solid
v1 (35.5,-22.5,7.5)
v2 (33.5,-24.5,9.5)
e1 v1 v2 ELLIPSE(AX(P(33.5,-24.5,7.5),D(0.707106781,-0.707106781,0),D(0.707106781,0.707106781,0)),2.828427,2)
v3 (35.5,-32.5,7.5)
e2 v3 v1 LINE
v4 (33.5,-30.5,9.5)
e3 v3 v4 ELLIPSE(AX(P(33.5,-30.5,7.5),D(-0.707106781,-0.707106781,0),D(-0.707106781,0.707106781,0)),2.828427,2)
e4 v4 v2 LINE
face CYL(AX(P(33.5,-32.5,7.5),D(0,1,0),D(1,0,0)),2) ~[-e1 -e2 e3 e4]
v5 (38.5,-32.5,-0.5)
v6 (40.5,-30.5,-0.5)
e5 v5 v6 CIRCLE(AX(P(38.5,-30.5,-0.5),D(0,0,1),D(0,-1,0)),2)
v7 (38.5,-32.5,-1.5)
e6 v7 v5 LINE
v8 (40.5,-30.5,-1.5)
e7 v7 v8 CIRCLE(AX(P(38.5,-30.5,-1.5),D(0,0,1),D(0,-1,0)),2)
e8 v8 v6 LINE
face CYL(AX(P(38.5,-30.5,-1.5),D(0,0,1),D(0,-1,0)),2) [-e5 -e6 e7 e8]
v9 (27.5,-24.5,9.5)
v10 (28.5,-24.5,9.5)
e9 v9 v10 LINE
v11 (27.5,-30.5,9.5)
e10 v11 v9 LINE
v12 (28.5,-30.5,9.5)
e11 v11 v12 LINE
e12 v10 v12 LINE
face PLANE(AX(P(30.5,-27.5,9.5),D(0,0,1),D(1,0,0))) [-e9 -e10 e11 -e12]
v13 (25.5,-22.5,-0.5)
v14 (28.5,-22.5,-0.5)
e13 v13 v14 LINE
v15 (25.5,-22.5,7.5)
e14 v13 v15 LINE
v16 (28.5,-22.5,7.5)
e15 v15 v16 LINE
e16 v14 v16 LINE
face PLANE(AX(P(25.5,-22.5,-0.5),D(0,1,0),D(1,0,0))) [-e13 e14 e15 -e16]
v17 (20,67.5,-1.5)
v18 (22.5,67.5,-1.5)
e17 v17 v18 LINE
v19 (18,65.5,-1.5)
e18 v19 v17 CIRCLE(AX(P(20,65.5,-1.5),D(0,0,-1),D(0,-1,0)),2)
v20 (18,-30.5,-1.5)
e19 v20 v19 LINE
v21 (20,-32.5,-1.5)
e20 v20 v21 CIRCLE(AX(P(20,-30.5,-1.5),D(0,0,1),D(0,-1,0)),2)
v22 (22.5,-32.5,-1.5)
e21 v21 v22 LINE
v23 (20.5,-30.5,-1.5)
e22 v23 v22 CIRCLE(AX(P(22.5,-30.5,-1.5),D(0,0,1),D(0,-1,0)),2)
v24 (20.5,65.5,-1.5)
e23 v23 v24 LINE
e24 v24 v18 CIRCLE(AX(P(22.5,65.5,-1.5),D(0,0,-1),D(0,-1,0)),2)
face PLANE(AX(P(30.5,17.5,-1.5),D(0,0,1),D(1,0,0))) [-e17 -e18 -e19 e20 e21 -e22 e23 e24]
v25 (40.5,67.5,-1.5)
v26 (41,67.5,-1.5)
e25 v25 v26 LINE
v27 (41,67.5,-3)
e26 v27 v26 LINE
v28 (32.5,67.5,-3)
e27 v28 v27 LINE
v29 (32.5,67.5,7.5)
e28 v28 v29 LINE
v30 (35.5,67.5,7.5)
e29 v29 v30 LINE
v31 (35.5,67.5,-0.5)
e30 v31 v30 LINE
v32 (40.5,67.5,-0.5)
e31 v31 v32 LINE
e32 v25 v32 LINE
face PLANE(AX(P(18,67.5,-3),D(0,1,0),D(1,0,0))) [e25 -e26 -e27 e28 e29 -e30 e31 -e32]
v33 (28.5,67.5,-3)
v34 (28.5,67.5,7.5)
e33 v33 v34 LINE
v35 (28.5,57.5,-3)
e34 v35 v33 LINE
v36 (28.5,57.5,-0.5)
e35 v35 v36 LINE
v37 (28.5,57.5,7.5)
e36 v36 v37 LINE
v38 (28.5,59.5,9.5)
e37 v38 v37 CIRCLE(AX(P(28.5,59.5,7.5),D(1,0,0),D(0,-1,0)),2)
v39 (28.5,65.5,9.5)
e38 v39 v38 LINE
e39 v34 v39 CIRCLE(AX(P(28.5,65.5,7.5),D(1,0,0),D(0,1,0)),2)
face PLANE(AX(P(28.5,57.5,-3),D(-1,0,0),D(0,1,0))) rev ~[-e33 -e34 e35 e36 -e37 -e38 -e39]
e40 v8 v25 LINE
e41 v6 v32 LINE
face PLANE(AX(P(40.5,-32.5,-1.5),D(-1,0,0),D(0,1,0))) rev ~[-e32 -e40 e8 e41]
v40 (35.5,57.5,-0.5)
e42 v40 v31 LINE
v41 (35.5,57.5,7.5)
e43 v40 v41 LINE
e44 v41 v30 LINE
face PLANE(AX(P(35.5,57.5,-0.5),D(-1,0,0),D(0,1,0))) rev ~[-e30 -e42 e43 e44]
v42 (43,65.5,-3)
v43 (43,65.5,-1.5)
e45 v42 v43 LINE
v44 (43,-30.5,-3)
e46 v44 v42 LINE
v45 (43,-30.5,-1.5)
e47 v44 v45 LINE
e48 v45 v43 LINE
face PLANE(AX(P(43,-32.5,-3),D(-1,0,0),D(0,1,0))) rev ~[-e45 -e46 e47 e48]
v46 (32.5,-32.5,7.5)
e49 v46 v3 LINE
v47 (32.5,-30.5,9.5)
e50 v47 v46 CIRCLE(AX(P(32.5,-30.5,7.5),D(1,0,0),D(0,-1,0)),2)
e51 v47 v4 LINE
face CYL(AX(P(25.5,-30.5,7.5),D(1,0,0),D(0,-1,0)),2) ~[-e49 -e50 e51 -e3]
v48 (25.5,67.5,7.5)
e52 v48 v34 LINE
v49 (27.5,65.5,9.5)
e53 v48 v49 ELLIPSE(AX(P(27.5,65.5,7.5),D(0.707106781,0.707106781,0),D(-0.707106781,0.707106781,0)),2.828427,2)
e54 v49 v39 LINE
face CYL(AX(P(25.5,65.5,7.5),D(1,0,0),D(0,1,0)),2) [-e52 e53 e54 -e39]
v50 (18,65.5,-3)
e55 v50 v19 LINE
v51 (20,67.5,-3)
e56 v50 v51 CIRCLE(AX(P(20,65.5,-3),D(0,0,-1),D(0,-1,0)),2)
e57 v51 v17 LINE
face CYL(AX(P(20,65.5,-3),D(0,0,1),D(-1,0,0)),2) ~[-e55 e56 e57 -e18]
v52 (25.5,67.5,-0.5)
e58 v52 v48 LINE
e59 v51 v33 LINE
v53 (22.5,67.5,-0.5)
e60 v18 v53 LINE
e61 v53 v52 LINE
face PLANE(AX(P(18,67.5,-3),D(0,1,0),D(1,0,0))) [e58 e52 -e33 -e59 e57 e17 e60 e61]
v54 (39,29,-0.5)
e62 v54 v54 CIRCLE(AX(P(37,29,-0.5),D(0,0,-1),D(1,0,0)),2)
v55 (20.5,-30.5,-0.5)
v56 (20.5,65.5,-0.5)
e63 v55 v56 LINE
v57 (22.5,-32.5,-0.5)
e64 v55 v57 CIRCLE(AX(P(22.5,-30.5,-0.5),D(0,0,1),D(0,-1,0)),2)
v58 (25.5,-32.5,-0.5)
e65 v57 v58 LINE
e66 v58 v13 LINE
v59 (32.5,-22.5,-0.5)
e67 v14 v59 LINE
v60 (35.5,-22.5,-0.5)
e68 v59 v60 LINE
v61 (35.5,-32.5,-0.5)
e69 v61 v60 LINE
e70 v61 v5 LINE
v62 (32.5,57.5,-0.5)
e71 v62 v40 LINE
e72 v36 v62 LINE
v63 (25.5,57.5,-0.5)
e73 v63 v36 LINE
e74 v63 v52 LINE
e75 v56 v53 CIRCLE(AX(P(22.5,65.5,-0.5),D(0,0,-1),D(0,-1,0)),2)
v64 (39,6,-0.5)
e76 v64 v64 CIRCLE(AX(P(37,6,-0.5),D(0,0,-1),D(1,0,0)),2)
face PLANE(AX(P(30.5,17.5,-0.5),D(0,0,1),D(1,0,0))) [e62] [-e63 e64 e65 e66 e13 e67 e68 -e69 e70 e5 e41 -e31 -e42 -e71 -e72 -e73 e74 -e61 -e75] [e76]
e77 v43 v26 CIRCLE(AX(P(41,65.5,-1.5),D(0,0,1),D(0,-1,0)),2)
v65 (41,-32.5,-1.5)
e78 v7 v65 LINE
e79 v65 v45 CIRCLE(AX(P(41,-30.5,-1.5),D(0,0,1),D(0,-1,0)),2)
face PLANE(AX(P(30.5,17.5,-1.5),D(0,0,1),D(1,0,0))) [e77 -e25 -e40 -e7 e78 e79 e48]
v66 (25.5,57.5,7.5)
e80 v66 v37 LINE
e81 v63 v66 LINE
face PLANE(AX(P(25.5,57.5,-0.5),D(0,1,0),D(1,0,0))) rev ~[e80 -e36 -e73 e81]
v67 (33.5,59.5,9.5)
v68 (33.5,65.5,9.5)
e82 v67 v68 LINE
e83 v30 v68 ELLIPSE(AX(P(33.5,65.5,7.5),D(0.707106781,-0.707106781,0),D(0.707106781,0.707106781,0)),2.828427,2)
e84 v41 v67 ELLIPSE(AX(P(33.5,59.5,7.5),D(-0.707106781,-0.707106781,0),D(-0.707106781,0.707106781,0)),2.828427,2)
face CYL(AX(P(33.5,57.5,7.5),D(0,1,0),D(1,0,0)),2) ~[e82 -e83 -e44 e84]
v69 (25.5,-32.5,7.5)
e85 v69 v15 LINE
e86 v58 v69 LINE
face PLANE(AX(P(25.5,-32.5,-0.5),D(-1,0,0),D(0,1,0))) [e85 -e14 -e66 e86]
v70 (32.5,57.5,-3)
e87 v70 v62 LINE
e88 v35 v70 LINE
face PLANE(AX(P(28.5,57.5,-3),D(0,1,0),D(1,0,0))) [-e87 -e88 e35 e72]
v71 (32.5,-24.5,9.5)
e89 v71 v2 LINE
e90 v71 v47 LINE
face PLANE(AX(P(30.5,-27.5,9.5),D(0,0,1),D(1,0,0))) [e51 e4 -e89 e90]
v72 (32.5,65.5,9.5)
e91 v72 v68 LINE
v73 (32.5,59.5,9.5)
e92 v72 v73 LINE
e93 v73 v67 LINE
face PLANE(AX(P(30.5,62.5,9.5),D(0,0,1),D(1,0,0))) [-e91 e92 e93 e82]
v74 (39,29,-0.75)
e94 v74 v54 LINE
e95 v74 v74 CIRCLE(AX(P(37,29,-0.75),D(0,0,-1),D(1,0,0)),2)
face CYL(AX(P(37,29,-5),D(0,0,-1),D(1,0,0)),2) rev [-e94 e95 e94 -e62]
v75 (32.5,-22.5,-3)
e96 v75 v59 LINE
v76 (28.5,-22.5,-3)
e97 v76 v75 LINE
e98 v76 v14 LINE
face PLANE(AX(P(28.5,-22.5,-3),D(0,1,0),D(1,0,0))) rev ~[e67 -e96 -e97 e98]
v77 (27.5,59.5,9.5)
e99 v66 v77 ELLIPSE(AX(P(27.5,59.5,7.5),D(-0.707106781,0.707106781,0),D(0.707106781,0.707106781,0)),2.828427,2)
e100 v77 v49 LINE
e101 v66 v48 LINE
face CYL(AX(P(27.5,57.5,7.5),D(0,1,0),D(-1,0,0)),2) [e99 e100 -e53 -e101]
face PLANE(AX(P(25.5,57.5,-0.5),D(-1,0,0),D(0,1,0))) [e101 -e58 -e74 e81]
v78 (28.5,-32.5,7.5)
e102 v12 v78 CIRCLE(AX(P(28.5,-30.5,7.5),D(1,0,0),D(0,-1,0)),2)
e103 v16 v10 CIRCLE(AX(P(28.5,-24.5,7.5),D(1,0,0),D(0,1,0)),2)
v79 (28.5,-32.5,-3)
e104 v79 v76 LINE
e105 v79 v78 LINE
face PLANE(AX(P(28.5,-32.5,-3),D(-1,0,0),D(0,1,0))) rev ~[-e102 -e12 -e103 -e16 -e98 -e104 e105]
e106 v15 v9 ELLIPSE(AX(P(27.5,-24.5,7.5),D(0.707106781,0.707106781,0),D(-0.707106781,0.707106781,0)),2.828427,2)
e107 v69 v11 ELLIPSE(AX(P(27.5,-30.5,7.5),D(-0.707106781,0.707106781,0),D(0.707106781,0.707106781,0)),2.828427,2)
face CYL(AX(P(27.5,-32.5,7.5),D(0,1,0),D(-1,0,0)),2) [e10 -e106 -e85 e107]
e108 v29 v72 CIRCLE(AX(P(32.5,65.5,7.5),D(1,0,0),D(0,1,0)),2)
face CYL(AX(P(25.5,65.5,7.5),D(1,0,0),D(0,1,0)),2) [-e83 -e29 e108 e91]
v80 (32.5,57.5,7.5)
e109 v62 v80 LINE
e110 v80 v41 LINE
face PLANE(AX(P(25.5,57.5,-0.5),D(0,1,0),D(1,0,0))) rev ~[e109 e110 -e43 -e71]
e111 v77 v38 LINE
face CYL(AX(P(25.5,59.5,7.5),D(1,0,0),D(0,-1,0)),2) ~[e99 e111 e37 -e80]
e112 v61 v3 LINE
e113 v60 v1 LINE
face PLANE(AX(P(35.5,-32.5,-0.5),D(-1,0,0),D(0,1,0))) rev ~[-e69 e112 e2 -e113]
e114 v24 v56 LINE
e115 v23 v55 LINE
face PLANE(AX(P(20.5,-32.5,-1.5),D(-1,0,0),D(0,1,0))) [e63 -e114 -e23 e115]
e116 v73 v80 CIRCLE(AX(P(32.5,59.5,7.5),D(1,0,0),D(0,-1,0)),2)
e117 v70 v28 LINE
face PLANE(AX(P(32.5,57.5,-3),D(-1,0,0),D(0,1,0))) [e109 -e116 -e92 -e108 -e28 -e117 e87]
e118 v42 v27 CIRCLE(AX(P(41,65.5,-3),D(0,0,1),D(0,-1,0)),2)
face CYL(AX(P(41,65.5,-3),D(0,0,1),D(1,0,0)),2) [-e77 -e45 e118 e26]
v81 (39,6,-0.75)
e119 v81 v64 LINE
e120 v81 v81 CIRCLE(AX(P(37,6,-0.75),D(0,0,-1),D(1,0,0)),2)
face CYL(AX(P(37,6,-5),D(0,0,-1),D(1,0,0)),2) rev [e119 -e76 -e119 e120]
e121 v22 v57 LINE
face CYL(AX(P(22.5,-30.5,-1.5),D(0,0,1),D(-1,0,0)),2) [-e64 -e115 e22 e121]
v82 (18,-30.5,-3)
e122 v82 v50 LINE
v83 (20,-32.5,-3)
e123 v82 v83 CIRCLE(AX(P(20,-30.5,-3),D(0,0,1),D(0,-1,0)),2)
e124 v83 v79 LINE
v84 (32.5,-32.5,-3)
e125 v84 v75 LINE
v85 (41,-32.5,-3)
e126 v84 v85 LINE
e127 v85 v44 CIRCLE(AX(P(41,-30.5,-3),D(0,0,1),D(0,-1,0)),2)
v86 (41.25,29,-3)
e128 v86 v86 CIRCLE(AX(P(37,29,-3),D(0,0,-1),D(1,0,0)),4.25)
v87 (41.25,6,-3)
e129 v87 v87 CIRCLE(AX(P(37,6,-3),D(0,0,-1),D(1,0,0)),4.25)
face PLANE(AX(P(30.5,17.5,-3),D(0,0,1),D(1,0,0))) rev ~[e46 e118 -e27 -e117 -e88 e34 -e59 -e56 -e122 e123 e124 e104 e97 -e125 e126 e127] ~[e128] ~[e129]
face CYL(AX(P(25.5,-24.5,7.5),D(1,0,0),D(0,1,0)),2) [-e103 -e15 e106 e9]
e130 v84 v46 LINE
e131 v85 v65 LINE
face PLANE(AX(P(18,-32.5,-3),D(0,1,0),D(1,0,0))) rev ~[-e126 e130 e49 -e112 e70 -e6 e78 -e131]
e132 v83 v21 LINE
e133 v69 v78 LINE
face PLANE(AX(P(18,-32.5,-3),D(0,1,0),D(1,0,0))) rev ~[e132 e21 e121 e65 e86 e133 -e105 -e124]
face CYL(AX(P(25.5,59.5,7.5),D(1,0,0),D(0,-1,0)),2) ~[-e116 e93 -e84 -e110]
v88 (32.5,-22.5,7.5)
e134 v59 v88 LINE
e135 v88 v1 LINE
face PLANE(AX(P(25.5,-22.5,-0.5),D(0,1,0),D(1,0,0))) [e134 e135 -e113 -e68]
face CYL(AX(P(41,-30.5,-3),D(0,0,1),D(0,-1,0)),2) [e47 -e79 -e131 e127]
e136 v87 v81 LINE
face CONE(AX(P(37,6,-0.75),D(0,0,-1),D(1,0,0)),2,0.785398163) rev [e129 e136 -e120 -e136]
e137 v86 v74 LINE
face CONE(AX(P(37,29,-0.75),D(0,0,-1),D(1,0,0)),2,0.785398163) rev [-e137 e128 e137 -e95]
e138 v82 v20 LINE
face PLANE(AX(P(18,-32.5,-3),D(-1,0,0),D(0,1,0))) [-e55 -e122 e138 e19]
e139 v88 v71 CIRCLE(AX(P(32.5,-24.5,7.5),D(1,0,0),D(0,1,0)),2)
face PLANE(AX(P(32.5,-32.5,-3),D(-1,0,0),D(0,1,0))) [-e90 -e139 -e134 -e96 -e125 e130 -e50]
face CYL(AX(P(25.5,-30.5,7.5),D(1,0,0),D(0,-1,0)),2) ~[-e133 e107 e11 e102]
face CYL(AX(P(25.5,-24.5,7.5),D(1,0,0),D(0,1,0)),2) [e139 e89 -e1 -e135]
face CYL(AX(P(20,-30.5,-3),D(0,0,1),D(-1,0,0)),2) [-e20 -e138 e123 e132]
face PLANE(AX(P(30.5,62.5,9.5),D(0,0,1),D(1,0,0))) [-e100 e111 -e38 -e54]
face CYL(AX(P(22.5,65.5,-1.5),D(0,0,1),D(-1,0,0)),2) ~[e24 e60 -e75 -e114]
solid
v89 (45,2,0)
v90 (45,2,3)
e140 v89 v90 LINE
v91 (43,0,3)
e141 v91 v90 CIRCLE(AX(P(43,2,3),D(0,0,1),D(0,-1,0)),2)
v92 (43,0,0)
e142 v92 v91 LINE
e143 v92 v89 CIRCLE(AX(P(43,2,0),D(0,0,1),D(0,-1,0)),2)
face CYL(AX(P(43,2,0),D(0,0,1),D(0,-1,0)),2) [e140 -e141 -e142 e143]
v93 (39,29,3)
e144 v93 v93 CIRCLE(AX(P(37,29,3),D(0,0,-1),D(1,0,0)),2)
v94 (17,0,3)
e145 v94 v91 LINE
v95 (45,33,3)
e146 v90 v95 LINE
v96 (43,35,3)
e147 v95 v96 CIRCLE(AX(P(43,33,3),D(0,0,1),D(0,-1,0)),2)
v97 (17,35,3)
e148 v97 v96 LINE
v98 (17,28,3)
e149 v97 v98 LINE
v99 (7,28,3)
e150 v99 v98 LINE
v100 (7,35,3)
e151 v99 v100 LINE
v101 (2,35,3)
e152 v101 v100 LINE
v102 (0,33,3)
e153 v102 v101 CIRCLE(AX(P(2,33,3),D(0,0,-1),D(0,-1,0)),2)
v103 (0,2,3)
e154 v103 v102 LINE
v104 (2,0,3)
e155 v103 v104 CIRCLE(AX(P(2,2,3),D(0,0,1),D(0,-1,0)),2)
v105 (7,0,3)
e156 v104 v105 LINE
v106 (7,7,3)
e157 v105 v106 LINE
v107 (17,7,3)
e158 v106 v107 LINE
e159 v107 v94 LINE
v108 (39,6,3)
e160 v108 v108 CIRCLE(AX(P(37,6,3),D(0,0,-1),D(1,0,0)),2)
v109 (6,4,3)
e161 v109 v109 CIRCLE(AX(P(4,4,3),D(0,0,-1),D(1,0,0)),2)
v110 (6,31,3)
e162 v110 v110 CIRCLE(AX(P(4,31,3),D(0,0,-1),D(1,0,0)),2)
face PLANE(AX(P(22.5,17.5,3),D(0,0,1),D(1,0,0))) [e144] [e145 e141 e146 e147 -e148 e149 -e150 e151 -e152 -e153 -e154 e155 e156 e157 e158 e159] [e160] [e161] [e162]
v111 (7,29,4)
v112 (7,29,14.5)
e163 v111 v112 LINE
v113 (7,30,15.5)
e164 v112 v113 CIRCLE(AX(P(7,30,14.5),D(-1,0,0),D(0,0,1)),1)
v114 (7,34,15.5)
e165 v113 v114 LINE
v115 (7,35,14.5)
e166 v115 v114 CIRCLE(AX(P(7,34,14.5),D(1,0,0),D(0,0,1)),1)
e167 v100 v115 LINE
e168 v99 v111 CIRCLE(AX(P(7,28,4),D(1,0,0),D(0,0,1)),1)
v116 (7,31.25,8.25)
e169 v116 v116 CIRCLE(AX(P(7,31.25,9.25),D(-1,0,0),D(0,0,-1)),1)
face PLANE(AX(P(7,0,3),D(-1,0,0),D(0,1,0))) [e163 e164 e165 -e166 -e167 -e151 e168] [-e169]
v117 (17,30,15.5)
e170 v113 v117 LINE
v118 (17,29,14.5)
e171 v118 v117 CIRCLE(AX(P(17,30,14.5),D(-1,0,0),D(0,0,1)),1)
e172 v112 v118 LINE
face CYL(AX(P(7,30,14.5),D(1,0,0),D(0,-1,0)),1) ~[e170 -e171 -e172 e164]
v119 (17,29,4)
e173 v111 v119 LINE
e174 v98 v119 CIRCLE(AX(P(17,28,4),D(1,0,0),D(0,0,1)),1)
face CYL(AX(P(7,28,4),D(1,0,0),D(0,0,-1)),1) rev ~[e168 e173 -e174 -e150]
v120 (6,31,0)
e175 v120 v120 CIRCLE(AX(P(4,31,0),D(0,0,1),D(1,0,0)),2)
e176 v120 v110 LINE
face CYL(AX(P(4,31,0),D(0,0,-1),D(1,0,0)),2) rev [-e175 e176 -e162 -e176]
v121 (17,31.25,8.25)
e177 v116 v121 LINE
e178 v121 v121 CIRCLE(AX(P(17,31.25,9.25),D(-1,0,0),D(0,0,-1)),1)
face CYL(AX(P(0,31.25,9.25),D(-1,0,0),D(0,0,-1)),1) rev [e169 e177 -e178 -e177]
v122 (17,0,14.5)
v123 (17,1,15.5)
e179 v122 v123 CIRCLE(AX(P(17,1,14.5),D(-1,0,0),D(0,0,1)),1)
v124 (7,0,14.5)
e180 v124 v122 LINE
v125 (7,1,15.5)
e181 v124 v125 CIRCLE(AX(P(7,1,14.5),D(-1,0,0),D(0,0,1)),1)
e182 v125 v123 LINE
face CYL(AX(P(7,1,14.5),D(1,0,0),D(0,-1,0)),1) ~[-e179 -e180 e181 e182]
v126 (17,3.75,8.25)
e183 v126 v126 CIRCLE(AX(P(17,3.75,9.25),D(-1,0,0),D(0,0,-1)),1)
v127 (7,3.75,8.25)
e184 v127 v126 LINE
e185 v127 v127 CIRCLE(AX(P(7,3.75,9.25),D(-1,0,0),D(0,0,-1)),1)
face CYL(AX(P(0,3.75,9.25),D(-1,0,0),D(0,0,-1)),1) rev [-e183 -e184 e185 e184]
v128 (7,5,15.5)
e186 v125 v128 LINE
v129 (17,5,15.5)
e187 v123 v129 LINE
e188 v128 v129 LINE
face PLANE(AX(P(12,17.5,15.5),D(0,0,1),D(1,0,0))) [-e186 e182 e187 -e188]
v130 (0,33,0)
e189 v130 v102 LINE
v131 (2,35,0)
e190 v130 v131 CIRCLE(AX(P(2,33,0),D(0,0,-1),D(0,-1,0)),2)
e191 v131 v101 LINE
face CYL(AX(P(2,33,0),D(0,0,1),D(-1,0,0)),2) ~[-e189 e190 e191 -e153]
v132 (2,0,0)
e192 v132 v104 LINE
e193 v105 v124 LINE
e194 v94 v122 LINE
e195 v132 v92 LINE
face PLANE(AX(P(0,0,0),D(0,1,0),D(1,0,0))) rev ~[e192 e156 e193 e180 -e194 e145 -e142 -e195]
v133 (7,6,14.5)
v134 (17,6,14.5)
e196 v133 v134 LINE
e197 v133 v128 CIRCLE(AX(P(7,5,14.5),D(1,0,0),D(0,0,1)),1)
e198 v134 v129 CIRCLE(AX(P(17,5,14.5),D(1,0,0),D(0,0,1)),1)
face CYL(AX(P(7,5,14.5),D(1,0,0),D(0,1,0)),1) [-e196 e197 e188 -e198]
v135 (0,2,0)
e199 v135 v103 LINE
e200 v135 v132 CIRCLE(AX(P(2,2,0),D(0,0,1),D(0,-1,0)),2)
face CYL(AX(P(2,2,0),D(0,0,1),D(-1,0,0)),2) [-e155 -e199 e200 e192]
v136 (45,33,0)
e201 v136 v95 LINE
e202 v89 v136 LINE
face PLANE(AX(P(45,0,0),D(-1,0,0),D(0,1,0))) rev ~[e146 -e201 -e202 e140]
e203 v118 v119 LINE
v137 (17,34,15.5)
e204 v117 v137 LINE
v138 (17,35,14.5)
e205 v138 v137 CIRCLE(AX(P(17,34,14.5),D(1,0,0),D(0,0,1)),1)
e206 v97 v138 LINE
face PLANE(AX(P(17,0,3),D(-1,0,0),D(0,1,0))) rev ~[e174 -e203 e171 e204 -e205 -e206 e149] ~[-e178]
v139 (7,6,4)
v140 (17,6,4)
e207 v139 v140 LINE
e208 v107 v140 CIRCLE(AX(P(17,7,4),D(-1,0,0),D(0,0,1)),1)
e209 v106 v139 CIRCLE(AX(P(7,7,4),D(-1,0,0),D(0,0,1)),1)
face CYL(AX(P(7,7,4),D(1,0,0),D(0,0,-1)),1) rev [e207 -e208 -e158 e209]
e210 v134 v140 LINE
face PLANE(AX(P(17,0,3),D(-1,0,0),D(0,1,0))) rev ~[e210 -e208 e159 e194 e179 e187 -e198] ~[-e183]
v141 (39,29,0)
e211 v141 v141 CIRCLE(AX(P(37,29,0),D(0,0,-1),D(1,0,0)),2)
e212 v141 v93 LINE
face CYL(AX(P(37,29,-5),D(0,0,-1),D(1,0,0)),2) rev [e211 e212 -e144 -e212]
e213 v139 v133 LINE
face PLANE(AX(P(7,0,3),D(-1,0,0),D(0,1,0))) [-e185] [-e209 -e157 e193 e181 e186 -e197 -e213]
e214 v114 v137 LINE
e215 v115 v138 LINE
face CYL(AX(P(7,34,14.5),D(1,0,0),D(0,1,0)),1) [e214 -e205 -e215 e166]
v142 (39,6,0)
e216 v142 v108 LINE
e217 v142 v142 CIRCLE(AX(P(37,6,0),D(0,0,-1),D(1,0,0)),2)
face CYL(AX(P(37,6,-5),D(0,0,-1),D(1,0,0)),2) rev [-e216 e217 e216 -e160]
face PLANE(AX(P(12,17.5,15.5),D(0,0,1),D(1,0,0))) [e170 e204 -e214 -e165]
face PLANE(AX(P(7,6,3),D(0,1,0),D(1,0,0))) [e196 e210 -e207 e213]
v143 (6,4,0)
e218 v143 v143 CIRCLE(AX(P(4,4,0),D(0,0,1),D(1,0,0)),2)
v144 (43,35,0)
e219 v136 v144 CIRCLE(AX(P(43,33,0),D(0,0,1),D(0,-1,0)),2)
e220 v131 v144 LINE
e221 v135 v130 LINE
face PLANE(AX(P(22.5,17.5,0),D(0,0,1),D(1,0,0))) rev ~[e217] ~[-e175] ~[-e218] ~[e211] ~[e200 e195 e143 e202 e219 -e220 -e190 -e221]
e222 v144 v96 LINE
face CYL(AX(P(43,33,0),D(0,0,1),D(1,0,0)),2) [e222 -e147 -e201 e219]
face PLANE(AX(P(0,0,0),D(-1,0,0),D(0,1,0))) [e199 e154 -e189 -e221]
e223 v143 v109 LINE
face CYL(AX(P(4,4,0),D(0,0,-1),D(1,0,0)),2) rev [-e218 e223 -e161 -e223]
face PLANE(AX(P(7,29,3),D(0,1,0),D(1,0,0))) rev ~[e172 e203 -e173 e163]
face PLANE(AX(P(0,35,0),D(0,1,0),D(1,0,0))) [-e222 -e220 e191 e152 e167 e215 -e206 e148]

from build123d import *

# Parameters (mm, degrees)
BOX007_W          = 4
BOX007_H          = 10
BOX007_DEPTH      = 13
BOX008_W          = 4
BOX008_H          = 10
BOX008_DEPTH      = 13
BOX005_W          = 10
BOX005_H          = 10
BOX005_DEPTH      = 10
FILLET003_R       = 2
BOX006_W          = 10
BOX006_H          = 10
BOX006_DEPTH      = 10
FILLET004_R       = 2
CYLINDER007_R     = 2
CYLINDER007_DEPTH = 10
CYLINDER006_R     = 2
CYLINDER006_DEPTH = 10
BOX003_W          = 25
BOX003_H          = 100
BOX003_DEPTH      = 1.5
FILLET001_R       = 2
BOX004_W          = 20
BOX004_H          = 100
BOX004_DEPTH      = 1
FILLET002_R       = 2
CHAMFER_SIZE      = 2.25
CYLINDER_R        = 1
CYLINDER_DEPTH    = 28
CYLINDER004_R     = 2
CYLINDER004_DEPTH = 10
CYLINDER005_R     = 2
CYLINDER005_DEPTH = 10
CYLINDER003_R     = 2
CYLINDER003_DEPTH = 10
CYLINDER001_R     = 1
CYLINDER001_DEPTH = 28
CYLINDER002_R     = 2
CYLINDER002_DEPTH = 10
BOX002_W          = 16
BOX002_H          = 23
BOX002_DEPTH      = 12.5
BOX001_W          = 10
BOX001_H          = 35
BOX001_DEPTH      = 12.5
BOX_W             = 45
BOX_H             = 35
BOX_DEPTH         = 3
FILLET_R          = 2
FILLET005_R       = 1


with BuildPart() as cube006:
    # Box007 → Box007 (new body)
    with BuildSketch(Plane(origin=(28.5, -32.5, -3), x_dir=(1, 0, 0), z_dir=(0, 0, 1))):
        with Locations((2, 5)):
            Rectangle(BOX007_W, BOX007_H)
    extrude(amount=BOX007_DEPTH)


with BuildPart() as fusion005:
    # Box008 → Box008 (new body)
    with BuildSketch(Plane(origin=(28.5, 57.5, -3), x_dir=(1, 0, 0), z_dir=(0, 0, 1))):
        with Locations((2, 5)):
            Rectangle(BOX008_W, BOX008_H)
    extrude(amount=BOX008_DEPTH)

    # Fusion005: union Cube006
    add(cube006.part)


with BuildPart() as fillet003:
    # Box005 → Box005 (new body)
    with BuildSketch(Plane(origin=(25.5, -32.5, -0.5), x_dir=(1, 0, 0), z_dir=(0, 0, 1))):
        with Locations((5, 5)):
            Rectangle(BOX005_W, BOX005_H)
    extrude(amount=BOX005_DEPTH)

    # Fillet003
    fillet003_edges = [fillet003.edges().sort_by_distance(p)[0] for p in [
        (25.5, -27.5, 9.5),
        (35.5, -27.5, 9.5),
        (30.5, -32.5, 9.5),
        (30.5, -22.5, 9.5),
    ]]
    fillet(fillet003_edges, radius=FILLET003_R)


with BuildPart() as fillet004:
    # Box006 → Box006 (new body)
    with BuildSketch(Plane(origin=(25.5, 57.5, -0.5), x_dir=(1, 0, 0), z_dir=(0, 0, 1))):
        with Locations((5, 5)):
            Rectangle(BOX006_W, BOX006_H)
    extrude(amount=BOX006_DEPTH)

    # Fillet004
    fillet004_edges = [fillet004.edges().sort_by_distance(p)[0] for p in [
        (25.5, 62.5, 9.5),
        (35.5, 62.5, 9.5),
        (30.5, 57.5, 9.5),
        (30.5, 67.5, 9.5),
    ]]
    fillet(fillet004_edges, radius=FILLET004_R)


with BuildPart() as cylinder007:
    # Cylinder007 → Cylinder007 (new body)
    with BuildSketch(Plane(origin=(37, 6, -5), x_dir=(1, 0, 0), z_dir=(0, 0, 1))):
        Circle(CYLINDER007_R)
    extrude(amount=CYLINDER007_DEPTH)


with BuildPart() as fusion002:
    # Cylinder006 → Cylinder006 (new body)
    with BuildSketch(Plane(origin=(37, 29, -5), x_dir=(1, 0, 0), z_dir=(0, 0, 1))):
        Circle(CYLINDER006_R)
    extrude(amount=CYLINDER006_DEPTH)

    # Fusion002: union Cylinder007
    add(cylinder007.part)


with BuildPart() as fillet001:
    # Box003 → Box003 (new body)
    with BuildSketch(Plane(origin=(18, -32.5, -3), x_dir=(1, 0, 0), z_dir=(0, 0, 1))):
        with Locations((12.5, 50)):
            Rectangle(BOX003_W, BOX003_H)
    extrude(amount=BOX003_DEPTH)

    # Fillet001
    fillet001_edges = [fillet001.edges().sort_by_distance(p)[0] for p in [
        (18, -32.5, -2.25),
        (18, 67.5, -2.25),
        (43, -32.5, -2.25),
        (43, 67.5, -2.25),
    ]]
    fillet(fillet001_edges, radius=FILLET001_R)


with BuildPart() as bottom:
    # Box004 → Box004 (new body)
    with BuildSketch(Plane(origin=(20.5, -32.5, -1.5), x_dir=(1, 0, 0), z_dir=(0, 0, 1))):
        with Locations((10, 50)):
            Rectangle(BOX004_W, BOX004_H)
    extrude(amount=BOX004_DEPTH)

    # Fillet002
    fillet002_edges = [bottom.edges().sort_by_distance(p)[0] for p in [
        (20.5, -32.5, -1),
        (20.5, 67.5, -1),
        (40.5, -32.5, -1),
    ]]
    fillet(fillet002_edges, radius=FILLET002_R)

    # Fusion003: union Fillet001
    add(fillet001.part)

    # Cut002: cut Fusion002
    add(fusion002.part, mode=Mode.SUBTRACT)

    # Fusion004: union Fillet003, Fillet004
    add(fillet003.part)
    add(fillet004.part)

    # Cut003: cut Fusion005
    add(fusion005.part, mode=Mode.SUBTRACT)

    # Chamfer
    chamfer_edges = [bottom.edges().sort_by_distance(p)[0] for p in [
        (35, 6, -3),
        (35, 29, -3),
    ]]
    chamfer(chamfer_edges, length=CHAMFER_SIZE)


with BuildPart() as cylinder:
    # Cylinder → Cylinder (new body)
    with BuildSketch(Plane(origin=(0, 3.75, 9.25), x_dir=(0, 0, -1), z_dir=(1, 0, 0))):
        Circle(CYLINDER_R)
    extrude(amount=CYLINDER_DEPTH)


with BuildPart() as cylinder004:
    # Cylinder004 → Cylinder004 (new body)
    with BuildSketch(Plane(origin=(37, 6, -5), x_dir=(1, 0, 0), z_dir=(0, 0, 1))):
        Circle(CYLINDER004_R)
    extrude(amount=CYLINDER004_DEPTH)


with BuildPart() as cylinder005:
    # Cylinder005 → Cylinder005 (new body)
    with BuildSketch(Plane(origin=(37, 29, -5), x_dir=(1, 0, 0), z_dir=(0, 0, 1))):
        Circle(CYLINDER005_R)
    extrude(amount=CYLINDER005_DEPTH)


with BuildPart() as cylinder003:
    # Cylinder003 → Cylinder003 (new body)
    with BuildSketch(Plane(origin=(4, 31, 0), x_dir=(1, 0, 0), z_dir=(0, 0, 1))):
        Circle(CYLINDER003_R)
    extrude(amount=CYLINDER003_DEPTH)


with BuildPart() as cylinder001:
    # Cylinder001 → Cylinder001 (new body)
    with BuildSketch(Plane(origin=(0, 31.25, 9.25), x_dir=(0, 0, -1), z_dir=(1, 0, 0))):
        Circle(CYLINDER001_R)
    extrude(amount=CYLINDER001_DEPTH)


with BuildPart() as fusion001:
    # Cylinder002 → Cylinder002 (new body)
    with BuildSketch(Plane(origin=(4, 4, 0), x_dir=(1, 0, 0), z_dir=(0, 0, 1))):
        Circle(CYLINDER002_R)
    extrude(amount=CYLINDER002_DEPTH)

    # Fusion001: union Cylinder, Cylinder004, Cylinder005, Cylinder003, Cylinder001
    add(cylinder.part)
    add(cylinder004.part)
    add(cylinder005.part)
    add(cylinder003.part)
    add(cylinder001.part)


with BuildPart() as cube001:
    # Box002 → Box002 (new body)
    with BuildSketch(Plane(origin=(7, 6, 3), x_dir=(1, 0, 0), z_dir=(0, 0, 1))):
        with Locations((8, 11.5)):
            Rectangle(BOX002_W, BOX002_H)
    extrude(amount=BOX002_DEPTH)


with BuildPart() as cut:
    # Box001 → Box001 (new body)
    with BuildSketch(Plane(origin=(7, 0, 3), x_dir=(1, 0, 0), z_dir=(0, 0, 1))):
        with Locations((5, 17.5)):
            Rectangle(BOX001_W, BOX001_H)
    extrude(amount=BOX001_DEPTH)

    # Cut: cut Cube001
    add(cube001.part, mode=Mode.SUBTRACT)


with BuildPart() as top:
    # Box → Box (new body)
    with BuildSketch(Plane.XY):
        with Locations((22.5, 17.5)):
            Rectangle(BOX_W, BOX_H)
    extrude(amount=BOX_DEPTH)

    # Fillet
    fillet_edges = [top.edges().sort_by_distance(p)[0] for p in [
        (0, 0, 1.5),
        (0, 35, 1.5),
        (45, 0, 1.5),
        (45, 35, 1.5),
    ]]
    fillet(fillet_edges, radius=FILLET_R)

    # Fusion: union Cut
    add(cut.part)

    # Cut001: cut Fusion001
    add(fusion001.part, mode=Mode.SUBTRACT)

    # Fillet005
    fillet005_edges = [top.edges().sort_by_distance(p)[0] for p in [
        (12, 6, 3),
        (12, 29, 3),
        (12, 6, 15.5),
        (12, 29, 15.5),
        (12, 0, 15.5),
        (12, 35, 15.5),
    ]]
    fillet(fillet005_edges, radius=FILLET005_R)


solid = Compound([bottom.part, top.part])
